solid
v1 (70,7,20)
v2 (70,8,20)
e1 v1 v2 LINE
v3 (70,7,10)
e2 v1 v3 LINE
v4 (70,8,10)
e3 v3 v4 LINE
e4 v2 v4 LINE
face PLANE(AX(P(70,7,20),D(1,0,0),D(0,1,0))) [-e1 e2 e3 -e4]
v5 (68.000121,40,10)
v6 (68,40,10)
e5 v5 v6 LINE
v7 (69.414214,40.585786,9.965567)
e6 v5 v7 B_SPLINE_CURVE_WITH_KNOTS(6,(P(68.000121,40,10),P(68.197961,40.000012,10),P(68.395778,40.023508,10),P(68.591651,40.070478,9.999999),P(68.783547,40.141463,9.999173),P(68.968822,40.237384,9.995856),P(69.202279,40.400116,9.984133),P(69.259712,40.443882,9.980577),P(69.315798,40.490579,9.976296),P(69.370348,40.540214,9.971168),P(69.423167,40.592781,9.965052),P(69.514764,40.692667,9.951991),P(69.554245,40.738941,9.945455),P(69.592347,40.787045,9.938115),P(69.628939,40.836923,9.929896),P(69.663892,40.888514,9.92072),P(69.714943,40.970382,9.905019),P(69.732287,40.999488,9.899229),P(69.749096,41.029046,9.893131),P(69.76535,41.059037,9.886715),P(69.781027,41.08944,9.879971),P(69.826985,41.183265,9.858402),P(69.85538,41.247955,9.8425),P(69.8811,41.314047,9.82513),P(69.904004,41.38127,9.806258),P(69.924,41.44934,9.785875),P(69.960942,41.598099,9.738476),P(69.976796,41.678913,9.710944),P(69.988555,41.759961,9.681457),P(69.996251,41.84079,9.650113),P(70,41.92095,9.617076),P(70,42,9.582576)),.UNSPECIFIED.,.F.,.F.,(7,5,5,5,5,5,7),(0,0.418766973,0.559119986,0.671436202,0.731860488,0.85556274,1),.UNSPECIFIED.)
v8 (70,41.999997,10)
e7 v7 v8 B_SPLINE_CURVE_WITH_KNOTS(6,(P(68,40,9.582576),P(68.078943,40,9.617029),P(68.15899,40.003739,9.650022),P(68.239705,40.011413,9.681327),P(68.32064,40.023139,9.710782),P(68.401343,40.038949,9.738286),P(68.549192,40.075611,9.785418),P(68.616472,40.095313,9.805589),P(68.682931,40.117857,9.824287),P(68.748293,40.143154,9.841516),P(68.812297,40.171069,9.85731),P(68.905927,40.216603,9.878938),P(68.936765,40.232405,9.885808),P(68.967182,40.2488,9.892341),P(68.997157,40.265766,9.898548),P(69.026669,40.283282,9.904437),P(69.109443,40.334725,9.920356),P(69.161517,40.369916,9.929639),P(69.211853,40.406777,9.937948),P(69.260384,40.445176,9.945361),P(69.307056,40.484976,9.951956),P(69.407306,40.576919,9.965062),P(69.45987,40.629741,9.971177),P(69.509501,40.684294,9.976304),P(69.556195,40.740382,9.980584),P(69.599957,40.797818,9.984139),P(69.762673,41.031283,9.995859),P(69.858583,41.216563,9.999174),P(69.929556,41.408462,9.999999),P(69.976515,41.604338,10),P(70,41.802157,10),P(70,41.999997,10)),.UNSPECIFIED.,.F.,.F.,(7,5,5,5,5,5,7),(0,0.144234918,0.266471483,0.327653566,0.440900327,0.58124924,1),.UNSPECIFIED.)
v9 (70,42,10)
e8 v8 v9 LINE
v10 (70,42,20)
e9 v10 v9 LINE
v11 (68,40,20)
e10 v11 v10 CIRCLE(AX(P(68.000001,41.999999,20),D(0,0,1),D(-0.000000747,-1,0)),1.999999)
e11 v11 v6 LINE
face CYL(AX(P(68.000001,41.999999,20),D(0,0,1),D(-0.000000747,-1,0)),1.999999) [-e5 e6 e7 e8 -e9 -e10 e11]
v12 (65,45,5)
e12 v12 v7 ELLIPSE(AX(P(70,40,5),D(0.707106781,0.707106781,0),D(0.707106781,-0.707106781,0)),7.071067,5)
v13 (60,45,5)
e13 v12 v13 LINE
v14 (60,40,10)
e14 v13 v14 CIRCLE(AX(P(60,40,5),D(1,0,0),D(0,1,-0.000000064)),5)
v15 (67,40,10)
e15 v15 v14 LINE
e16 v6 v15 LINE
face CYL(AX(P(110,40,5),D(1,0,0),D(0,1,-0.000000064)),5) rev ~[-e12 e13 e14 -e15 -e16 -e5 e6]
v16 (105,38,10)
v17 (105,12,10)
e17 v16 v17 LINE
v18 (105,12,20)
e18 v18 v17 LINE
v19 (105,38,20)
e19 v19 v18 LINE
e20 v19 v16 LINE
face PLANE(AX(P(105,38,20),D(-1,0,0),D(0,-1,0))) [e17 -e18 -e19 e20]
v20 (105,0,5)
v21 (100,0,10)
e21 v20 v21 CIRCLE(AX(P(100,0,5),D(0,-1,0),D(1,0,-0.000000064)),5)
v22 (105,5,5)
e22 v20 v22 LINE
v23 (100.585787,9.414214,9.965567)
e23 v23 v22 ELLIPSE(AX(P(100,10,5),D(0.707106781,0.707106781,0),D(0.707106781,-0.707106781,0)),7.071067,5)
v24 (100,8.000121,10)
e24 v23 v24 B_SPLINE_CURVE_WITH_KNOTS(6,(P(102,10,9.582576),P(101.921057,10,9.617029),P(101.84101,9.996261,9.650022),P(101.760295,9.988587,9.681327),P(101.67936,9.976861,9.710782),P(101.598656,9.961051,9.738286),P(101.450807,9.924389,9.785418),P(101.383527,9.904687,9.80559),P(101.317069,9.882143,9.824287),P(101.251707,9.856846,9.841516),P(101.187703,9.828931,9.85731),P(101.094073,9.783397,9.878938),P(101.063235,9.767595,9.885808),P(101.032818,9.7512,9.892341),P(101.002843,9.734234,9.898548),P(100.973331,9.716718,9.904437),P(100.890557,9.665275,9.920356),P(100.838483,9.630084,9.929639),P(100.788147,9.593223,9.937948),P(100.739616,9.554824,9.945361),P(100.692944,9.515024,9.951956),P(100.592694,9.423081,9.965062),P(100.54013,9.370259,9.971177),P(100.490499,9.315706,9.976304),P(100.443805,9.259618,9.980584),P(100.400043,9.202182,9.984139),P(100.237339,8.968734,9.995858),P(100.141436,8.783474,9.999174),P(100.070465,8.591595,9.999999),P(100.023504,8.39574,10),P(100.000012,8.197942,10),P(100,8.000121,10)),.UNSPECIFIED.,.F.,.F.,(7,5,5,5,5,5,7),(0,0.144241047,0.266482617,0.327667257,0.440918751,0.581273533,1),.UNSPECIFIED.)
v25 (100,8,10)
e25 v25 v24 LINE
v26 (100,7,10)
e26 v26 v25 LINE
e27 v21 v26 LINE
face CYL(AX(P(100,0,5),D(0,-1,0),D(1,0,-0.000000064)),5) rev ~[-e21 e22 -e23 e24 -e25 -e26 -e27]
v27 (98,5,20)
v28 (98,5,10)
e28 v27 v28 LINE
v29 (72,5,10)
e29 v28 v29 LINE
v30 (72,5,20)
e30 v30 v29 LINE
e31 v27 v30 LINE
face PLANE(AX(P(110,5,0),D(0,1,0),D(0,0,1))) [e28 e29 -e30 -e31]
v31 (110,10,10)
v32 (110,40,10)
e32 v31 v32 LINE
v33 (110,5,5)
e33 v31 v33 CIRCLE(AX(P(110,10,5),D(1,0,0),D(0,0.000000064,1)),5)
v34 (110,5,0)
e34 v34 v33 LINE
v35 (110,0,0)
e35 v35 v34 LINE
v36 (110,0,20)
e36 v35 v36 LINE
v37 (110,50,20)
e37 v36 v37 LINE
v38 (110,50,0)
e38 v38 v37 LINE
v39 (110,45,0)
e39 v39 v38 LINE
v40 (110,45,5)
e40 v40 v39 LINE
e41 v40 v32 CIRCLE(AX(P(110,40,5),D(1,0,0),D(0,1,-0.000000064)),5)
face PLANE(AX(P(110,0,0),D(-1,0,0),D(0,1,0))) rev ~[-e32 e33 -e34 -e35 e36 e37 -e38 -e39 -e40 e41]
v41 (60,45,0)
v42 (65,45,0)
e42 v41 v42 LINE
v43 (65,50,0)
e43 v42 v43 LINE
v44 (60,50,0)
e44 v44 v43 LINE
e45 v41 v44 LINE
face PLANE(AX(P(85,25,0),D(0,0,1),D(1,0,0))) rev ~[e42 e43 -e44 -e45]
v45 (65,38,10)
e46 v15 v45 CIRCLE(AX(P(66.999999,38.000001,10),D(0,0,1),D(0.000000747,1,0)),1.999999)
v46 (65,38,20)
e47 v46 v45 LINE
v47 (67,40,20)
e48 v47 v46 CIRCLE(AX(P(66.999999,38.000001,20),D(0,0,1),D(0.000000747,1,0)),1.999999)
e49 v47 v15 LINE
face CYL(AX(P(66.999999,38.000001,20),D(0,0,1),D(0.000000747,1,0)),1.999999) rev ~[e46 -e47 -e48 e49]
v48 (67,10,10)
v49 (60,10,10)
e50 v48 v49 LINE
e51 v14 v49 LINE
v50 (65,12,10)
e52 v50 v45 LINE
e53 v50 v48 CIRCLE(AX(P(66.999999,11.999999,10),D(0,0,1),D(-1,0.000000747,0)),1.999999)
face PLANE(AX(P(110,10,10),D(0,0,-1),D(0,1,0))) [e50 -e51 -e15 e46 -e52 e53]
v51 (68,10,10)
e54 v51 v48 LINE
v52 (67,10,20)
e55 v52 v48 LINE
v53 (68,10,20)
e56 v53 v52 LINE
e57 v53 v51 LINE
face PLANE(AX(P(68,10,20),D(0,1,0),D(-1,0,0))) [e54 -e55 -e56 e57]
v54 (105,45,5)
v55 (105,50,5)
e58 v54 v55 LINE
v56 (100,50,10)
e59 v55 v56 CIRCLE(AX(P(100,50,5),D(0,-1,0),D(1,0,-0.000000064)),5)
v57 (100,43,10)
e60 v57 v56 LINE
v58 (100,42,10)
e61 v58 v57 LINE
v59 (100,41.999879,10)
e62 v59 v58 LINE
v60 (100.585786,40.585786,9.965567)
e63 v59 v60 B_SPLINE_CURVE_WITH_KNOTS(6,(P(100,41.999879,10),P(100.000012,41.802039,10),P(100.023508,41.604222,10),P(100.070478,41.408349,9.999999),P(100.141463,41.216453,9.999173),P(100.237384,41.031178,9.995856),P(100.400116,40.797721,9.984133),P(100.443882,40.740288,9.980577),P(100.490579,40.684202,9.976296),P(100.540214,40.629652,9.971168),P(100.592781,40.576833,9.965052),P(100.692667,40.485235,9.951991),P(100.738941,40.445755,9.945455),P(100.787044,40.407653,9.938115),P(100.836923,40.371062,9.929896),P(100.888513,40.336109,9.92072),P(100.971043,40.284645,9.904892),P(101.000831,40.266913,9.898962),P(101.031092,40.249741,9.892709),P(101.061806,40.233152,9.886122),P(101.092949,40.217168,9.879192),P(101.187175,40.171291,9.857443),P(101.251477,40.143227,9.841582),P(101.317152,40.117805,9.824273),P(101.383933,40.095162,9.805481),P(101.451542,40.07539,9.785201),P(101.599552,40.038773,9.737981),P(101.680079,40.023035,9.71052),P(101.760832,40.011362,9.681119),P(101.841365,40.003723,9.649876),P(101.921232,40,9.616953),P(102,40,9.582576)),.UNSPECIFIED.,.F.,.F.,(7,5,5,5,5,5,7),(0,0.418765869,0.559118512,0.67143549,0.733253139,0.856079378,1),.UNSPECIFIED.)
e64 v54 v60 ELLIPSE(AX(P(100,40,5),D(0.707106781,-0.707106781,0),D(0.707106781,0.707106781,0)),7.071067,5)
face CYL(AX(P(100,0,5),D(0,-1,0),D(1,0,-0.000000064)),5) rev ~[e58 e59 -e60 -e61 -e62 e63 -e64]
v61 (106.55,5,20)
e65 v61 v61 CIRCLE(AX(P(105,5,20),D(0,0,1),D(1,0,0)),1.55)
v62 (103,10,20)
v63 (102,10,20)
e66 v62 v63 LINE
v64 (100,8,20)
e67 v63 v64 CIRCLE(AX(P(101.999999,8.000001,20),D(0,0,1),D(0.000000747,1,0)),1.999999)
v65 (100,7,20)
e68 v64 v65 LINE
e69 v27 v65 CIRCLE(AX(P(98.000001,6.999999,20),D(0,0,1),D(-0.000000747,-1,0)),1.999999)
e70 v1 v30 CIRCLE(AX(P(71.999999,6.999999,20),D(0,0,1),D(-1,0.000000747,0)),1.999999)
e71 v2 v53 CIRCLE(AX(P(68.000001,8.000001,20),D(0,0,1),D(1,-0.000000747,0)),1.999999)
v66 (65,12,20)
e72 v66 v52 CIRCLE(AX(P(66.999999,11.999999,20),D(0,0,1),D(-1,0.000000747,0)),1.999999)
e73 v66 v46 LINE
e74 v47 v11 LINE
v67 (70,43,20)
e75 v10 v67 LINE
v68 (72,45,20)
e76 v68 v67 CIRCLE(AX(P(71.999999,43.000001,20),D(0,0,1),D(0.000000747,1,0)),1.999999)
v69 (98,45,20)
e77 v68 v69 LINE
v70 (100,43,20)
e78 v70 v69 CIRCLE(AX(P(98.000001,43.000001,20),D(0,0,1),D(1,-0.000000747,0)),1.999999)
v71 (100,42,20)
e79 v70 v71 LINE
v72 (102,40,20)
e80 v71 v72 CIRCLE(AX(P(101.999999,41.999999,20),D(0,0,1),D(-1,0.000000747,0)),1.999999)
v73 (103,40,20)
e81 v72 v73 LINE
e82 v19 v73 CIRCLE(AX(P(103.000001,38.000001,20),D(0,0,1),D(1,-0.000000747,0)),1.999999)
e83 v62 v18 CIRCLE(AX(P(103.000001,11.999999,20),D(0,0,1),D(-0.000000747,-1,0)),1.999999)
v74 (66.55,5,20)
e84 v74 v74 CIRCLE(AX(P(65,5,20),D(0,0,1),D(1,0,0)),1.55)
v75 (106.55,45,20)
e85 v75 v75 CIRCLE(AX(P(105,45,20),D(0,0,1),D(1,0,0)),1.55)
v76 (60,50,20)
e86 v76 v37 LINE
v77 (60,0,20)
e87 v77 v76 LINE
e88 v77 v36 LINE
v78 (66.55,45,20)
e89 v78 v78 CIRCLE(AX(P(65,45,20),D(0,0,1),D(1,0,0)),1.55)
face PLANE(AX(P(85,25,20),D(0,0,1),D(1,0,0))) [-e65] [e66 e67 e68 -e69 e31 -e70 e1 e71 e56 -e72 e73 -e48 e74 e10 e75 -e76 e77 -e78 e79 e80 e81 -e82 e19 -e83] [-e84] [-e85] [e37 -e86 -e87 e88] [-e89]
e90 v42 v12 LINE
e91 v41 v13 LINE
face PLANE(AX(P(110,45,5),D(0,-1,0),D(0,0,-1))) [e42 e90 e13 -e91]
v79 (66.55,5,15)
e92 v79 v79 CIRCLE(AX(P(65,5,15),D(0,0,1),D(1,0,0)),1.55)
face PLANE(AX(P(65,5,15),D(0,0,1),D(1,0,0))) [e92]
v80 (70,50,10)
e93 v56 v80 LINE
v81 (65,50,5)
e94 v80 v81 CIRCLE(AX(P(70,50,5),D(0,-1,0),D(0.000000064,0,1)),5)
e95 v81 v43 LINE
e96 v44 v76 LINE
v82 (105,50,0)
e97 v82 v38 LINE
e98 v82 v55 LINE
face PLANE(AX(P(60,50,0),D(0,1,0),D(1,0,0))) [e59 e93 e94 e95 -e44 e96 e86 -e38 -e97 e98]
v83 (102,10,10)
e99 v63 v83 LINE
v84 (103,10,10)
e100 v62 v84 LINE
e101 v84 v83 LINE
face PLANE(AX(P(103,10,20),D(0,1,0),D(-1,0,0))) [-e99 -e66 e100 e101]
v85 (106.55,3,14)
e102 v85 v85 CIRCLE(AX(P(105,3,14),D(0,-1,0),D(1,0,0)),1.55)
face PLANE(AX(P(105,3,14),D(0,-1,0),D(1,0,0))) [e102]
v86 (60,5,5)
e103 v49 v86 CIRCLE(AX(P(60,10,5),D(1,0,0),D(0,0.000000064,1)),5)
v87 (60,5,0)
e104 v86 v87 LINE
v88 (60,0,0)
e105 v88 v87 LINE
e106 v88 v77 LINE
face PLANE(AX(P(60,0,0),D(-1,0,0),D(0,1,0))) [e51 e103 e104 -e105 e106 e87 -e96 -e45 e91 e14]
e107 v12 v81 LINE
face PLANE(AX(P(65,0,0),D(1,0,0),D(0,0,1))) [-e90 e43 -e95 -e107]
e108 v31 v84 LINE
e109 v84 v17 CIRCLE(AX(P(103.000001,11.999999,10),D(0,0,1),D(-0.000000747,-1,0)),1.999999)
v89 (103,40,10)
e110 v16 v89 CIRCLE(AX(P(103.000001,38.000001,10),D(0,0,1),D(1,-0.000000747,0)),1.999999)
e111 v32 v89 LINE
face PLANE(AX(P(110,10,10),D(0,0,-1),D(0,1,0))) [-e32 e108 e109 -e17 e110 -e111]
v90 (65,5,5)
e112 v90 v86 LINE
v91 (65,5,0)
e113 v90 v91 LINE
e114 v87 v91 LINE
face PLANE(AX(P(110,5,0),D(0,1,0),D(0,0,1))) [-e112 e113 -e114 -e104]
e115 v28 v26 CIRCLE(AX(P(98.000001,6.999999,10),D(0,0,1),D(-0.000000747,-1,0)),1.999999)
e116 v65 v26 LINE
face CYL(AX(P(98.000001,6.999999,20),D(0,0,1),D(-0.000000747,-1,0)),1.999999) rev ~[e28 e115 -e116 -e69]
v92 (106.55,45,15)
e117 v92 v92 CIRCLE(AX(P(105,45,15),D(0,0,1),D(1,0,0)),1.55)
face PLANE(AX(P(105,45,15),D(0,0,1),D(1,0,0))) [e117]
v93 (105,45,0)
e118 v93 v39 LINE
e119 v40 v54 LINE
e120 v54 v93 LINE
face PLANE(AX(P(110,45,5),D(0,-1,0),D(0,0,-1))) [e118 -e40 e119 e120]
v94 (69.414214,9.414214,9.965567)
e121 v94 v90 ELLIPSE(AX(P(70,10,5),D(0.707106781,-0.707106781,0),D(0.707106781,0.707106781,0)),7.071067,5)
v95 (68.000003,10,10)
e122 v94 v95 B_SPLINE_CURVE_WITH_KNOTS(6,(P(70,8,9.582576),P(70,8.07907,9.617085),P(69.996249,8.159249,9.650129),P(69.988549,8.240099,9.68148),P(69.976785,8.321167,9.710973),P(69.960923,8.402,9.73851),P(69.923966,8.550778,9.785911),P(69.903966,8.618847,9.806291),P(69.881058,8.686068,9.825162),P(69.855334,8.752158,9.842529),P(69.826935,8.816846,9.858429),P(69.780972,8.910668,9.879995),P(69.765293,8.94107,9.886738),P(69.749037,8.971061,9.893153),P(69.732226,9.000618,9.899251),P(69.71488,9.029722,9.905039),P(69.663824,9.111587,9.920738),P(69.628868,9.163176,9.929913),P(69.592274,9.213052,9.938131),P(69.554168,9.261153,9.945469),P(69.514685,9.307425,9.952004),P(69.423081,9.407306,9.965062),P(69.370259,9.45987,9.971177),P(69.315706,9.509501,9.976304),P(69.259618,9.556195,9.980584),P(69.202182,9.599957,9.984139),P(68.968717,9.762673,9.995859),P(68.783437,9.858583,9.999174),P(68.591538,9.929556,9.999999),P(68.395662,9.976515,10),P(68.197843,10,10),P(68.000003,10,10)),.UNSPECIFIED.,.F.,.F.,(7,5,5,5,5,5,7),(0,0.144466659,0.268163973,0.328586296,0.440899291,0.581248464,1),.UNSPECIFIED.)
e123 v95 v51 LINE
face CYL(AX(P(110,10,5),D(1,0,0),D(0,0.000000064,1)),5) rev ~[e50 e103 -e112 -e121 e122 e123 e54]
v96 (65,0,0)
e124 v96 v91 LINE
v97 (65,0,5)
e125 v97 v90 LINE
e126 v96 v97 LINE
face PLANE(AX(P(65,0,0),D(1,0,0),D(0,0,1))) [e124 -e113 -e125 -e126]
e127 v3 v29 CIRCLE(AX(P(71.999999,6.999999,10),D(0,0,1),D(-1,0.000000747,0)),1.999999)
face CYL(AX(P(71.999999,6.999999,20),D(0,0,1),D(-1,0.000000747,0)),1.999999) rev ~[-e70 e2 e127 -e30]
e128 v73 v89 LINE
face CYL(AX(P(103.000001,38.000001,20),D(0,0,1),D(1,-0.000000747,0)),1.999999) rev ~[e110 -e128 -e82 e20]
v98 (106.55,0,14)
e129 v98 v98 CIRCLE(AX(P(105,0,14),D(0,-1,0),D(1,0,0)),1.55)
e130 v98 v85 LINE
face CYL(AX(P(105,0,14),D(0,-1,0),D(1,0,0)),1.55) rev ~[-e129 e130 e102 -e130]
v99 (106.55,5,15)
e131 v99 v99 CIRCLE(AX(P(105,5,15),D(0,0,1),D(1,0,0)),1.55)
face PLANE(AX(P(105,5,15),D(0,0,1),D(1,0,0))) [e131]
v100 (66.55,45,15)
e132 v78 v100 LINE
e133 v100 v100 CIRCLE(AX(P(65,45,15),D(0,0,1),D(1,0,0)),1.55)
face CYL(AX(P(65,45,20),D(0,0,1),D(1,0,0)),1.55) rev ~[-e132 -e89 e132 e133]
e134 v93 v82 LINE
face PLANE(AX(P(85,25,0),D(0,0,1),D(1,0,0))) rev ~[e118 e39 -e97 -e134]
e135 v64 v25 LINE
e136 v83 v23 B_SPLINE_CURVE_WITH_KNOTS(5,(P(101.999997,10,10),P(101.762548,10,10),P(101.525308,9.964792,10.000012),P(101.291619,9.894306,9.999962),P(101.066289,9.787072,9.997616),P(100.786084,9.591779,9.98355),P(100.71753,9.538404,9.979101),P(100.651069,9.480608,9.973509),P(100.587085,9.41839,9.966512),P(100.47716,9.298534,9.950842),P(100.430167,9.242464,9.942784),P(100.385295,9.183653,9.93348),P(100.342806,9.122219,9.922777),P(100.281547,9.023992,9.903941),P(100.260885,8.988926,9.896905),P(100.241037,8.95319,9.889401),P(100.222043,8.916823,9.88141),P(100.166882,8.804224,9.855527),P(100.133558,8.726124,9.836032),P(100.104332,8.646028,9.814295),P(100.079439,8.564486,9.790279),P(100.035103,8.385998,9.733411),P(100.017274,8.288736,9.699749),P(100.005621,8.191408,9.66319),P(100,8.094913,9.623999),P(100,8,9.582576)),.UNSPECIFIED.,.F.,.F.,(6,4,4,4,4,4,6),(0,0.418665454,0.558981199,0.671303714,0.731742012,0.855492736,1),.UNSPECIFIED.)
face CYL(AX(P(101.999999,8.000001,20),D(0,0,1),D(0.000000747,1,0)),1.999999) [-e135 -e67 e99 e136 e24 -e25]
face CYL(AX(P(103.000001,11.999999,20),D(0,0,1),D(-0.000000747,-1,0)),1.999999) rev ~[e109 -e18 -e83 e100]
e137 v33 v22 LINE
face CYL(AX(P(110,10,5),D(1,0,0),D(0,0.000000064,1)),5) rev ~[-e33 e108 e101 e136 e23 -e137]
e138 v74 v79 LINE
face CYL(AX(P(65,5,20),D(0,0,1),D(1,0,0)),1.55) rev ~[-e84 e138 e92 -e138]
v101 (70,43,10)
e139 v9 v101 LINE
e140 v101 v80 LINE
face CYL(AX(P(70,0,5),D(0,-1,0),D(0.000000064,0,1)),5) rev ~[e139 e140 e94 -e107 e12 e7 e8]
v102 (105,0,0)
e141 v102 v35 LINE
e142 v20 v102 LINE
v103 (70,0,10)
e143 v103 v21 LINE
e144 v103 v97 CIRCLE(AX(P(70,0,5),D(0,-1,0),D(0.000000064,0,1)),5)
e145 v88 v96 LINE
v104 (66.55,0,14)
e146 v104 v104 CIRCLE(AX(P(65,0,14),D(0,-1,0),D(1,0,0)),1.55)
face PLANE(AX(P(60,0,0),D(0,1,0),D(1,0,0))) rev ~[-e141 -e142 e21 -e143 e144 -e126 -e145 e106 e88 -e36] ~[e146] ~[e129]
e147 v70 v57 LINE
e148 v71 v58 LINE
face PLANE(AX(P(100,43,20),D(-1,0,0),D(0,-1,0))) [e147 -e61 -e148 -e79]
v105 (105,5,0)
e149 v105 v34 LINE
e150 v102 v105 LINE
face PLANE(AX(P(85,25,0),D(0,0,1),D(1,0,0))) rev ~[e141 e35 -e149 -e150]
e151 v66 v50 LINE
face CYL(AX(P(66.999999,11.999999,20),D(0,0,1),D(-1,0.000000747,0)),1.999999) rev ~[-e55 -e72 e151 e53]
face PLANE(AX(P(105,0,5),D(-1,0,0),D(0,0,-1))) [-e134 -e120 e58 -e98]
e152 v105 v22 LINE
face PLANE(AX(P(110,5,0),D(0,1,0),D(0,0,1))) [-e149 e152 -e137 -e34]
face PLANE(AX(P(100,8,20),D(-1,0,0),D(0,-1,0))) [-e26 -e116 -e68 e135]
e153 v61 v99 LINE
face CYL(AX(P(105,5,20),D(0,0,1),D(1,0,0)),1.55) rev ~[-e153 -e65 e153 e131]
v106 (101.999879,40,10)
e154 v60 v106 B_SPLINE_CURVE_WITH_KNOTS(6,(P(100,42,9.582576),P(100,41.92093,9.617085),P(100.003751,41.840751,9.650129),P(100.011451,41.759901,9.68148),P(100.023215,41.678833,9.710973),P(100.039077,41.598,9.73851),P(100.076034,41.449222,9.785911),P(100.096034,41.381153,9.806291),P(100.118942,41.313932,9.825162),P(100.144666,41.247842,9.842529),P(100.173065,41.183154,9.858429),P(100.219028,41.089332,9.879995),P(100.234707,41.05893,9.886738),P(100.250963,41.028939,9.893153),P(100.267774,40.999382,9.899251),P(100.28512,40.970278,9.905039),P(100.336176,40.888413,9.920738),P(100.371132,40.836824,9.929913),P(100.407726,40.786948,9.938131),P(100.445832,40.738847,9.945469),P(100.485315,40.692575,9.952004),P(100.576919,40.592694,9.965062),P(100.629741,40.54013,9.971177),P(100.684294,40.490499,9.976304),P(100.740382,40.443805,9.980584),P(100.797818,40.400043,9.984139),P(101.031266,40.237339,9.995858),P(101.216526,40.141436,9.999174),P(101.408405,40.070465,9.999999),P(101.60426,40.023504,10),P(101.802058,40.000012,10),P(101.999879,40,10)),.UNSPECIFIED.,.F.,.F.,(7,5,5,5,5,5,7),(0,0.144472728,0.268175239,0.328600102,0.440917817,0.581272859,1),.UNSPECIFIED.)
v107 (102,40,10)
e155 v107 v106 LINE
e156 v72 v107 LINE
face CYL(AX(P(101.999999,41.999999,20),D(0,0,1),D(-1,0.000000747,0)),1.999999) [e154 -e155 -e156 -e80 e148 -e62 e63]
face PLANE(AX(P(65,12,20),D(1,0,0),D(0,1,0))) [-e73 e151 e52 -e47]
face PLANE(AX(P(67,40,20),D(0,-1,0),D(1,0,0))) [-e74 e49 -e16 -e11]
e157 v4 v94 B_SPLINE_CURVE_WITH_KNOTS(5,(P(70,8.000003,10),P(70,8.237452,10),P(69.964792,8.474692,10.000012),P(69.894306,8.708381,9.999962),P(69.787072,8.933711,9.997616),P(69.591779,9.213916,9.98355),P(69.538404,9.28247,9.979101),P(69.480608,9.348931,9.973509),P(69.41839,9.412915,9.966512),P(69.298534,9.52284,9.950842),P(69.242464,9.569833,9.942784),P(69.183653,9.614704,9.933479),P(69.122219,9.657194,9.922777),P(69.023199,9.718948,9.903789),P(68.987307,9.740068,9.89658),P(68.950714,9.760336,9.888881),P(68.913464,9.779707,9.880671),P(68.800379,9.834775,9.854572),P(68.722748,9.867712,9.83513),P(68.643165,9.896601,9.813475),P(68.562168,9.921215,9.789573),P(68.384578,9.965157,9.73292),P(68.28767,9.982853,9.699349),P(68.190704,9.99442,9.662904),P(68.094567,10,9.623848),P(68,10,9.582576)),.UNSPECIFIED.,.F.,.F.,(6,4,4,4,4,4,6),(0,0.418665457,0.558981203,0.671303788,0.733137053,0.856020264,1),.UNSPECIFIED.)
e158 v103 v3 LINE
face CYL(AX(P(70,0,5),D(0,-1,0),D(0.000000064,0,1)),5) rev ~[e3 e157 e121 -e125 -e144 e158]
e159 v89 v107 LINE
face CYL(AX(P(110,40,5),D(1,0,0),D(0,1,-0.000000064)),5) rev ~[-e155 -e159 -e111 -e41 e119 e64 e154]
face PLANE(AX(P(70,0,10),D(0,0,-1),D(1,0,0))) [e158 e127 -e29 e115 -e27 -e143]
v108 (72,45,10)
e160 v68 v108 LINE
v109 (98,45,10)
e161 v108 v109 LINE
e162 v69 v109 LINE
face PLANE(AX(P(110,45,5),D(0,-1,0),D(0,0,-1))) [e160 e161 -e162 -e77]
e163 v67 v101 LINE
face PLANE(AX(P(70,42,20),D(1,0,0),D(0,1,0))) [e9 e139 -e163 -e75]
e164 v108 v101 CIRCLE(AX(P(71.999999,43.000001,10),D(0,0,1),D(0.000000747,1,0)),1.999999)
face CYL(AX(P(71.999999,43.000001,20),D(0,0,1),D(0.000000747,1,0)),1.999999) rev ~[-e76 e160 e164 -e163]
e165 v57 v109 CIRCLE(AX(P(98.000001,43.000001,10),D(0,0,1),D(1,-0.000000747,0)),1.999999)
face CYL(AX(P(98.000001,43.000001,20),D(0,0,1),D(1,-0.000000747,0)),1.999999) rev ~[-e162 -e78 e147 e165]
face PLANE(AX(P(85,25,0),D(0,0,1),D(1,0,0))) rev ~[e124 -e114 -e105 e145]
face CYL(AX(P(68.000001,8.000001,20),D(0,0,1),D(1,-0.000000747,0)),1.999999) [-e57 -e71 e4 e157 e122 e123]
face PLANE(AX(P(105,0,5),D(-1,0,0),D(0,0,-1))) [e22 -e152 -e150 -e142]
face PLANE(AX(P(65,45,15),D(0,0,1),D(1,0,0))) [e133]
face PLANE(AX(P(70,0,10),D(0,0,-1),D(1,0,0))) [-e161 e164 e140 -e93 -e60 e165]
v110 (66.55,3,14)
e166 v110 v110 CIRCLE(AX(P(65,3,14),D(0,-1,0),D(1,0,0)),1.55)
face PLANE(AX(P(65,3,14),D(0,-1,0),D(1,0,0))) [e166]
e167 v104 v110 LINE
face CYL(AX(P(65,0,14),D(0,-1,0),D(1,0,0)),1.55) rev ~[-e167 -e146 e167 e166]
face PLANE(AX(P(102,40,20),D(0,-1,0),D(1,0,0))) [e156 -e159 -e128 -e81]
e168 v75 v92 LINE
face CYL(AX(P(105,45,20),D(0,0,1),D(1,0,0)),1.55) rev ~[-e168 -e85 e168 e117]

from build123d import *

# Parameters (mm, degrees)
SKETCH152_W     = 50
SKETCH152_H     = 50
PAD026_DEPTH    = 20
POCKET127_DEPTH = 20.001
POCKET128_DEPTH = 50.001
POCKET129_DEPTH = 50.001
SKETCH156_R     = 1.55
POCKET130_DEPTH = 5
SKETCH157_R     = 1.55
POCKET131_DEPTH = 3


with BuildPart() as part:
    # Sketch152 → Pad026 (new body)
    with BuildSketch(Plane.XY):
        Rectangle(SKETCH152_W, SKETCH152_H)
    extrude(amount=PAD026_DEPTH)

    # Sketch153 (on Face6 of Pad026) → Pocket127 (cut, through all)
    with BuildSketch(Plane.XY.offset(20)):
        with BuildLine():
            Line((-18, 15), (-17, 15))
            ThreePointArc((-17, 15), (-15.585786, 15.585786), (-15, 17))
            Line((-15, 17), (-15, 18))
            ThreePointArc((-13, 20), (-14.414214, 19.414214), (-15, 18))
            Line((-13, 20), (13, 20))
            ThreePointArc((15, 18), (14.414214, 19.414214), (13, 20))
            Line((15, 18), (15, 17))
            ThreePointArc((15, 17), (15.585786, 15.585786), (17, 15))
            Line((17, 15), (18, 15))
            ThreePointArc((20, 13), (19.414214, 14.414214), (18, 15))
            Line((20, 13), (20, -13))
            ThreePointArc((18, -15), (19.414214, -14.414214), (20, -13))
            Line((18, -15), (17, -15))
            ThreePointArc((17, -15), (15.585786, -15.585786), (15, -17))
            Line((15, -17), (15, -18))
            ThreePointArc((13, -20), (14.414214, -19.414214), (15, -18))
            Line((13, -20), (-13, -20))
            ThreePointArc((-15, -18), (-14.414214, -19.414214), (-13, -20))
            Line((-15, -18), (-15, -17))
            ThreePointArc((-15, -17), (-15.585786, -15.585786), (-17, -15))
            Line((-17, -15), (-18, -15))
            ThreePointArc((-20, -13), (-19.414214, -14.414214), (-18, -15))
            Line((-20, -13), (-20, 13))
            ThreePointArc((-18, 15), (-19.414214, 14.414214), (-20, 13))
        make_face()
    extrude(amount=-POCKET127_DEPTH, mode=Mode.SUBTRACT)

    # Sketch154 (on Face3 of Pocket127) → Pocket128 (cut, through all)
    with BuildSketch(Plane.YZ.offset(25)):
        with BuildLine():
            Line((-15, 10), (15, 10))
            ThreePointArc((20, 5), (18.535534, 8.535534), (15, 10))
            Line((20, 5), (20, 0))
            Line((20, 0), (-20, 0))
            Line((-20, 0), (-20, 5))
            ThreePointArc((-15, 10), (-18.535534, 8.535534), (-20, 5))
        make_face()
    extrude(amount=-POCKET128_DEPTH, mode=Mode.SUBTRACT)

    # Sketch155 (on Face6 of Pocket127) → Pocket129 (cut, through all)
    with BuildSketch(Plane.XZ.offset(25)):
        with BuildLine():
            Line((-15, 10), (15, 10))
            ThreePointArc((20, 5), (18.535534, 8.535534), (15, 10))
            Line((20, 5), (20, 0))
            Line((20, 0), (-20, 0))
            Line((-20, 0), (-20, 5))
            ThreePointArc((-15, 10), (-18.535534, 8.535534), (-20, 5))
        make_face()
    extrude(amount=-POCKET129_DEPTH, mode=Mode.SUBTRACT)

    # Sketch156 → Pocket130 (cut)
    with BuildSketch(Plane.XY.offset(20)):
        with Locations((-20, 20)):
            Circle(SKETCH156_R)
        with Locations((20, 20)):
            Circle(SKETCH156_R)
        with Locations((20, -20)):
            Circle(SKETCH156_R)
        with Locations((-20, -20)):
            Circle(SKETCH156_R)
    extrude(amount=-POCKET130_DEPTH, mode=Mode.SUBTRACT)

    # Sketch157 (on Face27 of Pocket130) → Pocket131 (cut)
    with BuildSketch(Plane.XZ.offset(25)):
        with Locations((-20, 14)):
            Circle(SKETCH157_R)
        with Locations((20, 14)):
            Circle(SKETCH157_R)
    extrude(amount=-POCKET131_DEPTH, mode=Mode.SUBTRACT)


with BuildPart() as part_1:
    # Body027 placement: moved
    add(part.part.moved(Location((85, 25, 0))))


solid = part_1.part
